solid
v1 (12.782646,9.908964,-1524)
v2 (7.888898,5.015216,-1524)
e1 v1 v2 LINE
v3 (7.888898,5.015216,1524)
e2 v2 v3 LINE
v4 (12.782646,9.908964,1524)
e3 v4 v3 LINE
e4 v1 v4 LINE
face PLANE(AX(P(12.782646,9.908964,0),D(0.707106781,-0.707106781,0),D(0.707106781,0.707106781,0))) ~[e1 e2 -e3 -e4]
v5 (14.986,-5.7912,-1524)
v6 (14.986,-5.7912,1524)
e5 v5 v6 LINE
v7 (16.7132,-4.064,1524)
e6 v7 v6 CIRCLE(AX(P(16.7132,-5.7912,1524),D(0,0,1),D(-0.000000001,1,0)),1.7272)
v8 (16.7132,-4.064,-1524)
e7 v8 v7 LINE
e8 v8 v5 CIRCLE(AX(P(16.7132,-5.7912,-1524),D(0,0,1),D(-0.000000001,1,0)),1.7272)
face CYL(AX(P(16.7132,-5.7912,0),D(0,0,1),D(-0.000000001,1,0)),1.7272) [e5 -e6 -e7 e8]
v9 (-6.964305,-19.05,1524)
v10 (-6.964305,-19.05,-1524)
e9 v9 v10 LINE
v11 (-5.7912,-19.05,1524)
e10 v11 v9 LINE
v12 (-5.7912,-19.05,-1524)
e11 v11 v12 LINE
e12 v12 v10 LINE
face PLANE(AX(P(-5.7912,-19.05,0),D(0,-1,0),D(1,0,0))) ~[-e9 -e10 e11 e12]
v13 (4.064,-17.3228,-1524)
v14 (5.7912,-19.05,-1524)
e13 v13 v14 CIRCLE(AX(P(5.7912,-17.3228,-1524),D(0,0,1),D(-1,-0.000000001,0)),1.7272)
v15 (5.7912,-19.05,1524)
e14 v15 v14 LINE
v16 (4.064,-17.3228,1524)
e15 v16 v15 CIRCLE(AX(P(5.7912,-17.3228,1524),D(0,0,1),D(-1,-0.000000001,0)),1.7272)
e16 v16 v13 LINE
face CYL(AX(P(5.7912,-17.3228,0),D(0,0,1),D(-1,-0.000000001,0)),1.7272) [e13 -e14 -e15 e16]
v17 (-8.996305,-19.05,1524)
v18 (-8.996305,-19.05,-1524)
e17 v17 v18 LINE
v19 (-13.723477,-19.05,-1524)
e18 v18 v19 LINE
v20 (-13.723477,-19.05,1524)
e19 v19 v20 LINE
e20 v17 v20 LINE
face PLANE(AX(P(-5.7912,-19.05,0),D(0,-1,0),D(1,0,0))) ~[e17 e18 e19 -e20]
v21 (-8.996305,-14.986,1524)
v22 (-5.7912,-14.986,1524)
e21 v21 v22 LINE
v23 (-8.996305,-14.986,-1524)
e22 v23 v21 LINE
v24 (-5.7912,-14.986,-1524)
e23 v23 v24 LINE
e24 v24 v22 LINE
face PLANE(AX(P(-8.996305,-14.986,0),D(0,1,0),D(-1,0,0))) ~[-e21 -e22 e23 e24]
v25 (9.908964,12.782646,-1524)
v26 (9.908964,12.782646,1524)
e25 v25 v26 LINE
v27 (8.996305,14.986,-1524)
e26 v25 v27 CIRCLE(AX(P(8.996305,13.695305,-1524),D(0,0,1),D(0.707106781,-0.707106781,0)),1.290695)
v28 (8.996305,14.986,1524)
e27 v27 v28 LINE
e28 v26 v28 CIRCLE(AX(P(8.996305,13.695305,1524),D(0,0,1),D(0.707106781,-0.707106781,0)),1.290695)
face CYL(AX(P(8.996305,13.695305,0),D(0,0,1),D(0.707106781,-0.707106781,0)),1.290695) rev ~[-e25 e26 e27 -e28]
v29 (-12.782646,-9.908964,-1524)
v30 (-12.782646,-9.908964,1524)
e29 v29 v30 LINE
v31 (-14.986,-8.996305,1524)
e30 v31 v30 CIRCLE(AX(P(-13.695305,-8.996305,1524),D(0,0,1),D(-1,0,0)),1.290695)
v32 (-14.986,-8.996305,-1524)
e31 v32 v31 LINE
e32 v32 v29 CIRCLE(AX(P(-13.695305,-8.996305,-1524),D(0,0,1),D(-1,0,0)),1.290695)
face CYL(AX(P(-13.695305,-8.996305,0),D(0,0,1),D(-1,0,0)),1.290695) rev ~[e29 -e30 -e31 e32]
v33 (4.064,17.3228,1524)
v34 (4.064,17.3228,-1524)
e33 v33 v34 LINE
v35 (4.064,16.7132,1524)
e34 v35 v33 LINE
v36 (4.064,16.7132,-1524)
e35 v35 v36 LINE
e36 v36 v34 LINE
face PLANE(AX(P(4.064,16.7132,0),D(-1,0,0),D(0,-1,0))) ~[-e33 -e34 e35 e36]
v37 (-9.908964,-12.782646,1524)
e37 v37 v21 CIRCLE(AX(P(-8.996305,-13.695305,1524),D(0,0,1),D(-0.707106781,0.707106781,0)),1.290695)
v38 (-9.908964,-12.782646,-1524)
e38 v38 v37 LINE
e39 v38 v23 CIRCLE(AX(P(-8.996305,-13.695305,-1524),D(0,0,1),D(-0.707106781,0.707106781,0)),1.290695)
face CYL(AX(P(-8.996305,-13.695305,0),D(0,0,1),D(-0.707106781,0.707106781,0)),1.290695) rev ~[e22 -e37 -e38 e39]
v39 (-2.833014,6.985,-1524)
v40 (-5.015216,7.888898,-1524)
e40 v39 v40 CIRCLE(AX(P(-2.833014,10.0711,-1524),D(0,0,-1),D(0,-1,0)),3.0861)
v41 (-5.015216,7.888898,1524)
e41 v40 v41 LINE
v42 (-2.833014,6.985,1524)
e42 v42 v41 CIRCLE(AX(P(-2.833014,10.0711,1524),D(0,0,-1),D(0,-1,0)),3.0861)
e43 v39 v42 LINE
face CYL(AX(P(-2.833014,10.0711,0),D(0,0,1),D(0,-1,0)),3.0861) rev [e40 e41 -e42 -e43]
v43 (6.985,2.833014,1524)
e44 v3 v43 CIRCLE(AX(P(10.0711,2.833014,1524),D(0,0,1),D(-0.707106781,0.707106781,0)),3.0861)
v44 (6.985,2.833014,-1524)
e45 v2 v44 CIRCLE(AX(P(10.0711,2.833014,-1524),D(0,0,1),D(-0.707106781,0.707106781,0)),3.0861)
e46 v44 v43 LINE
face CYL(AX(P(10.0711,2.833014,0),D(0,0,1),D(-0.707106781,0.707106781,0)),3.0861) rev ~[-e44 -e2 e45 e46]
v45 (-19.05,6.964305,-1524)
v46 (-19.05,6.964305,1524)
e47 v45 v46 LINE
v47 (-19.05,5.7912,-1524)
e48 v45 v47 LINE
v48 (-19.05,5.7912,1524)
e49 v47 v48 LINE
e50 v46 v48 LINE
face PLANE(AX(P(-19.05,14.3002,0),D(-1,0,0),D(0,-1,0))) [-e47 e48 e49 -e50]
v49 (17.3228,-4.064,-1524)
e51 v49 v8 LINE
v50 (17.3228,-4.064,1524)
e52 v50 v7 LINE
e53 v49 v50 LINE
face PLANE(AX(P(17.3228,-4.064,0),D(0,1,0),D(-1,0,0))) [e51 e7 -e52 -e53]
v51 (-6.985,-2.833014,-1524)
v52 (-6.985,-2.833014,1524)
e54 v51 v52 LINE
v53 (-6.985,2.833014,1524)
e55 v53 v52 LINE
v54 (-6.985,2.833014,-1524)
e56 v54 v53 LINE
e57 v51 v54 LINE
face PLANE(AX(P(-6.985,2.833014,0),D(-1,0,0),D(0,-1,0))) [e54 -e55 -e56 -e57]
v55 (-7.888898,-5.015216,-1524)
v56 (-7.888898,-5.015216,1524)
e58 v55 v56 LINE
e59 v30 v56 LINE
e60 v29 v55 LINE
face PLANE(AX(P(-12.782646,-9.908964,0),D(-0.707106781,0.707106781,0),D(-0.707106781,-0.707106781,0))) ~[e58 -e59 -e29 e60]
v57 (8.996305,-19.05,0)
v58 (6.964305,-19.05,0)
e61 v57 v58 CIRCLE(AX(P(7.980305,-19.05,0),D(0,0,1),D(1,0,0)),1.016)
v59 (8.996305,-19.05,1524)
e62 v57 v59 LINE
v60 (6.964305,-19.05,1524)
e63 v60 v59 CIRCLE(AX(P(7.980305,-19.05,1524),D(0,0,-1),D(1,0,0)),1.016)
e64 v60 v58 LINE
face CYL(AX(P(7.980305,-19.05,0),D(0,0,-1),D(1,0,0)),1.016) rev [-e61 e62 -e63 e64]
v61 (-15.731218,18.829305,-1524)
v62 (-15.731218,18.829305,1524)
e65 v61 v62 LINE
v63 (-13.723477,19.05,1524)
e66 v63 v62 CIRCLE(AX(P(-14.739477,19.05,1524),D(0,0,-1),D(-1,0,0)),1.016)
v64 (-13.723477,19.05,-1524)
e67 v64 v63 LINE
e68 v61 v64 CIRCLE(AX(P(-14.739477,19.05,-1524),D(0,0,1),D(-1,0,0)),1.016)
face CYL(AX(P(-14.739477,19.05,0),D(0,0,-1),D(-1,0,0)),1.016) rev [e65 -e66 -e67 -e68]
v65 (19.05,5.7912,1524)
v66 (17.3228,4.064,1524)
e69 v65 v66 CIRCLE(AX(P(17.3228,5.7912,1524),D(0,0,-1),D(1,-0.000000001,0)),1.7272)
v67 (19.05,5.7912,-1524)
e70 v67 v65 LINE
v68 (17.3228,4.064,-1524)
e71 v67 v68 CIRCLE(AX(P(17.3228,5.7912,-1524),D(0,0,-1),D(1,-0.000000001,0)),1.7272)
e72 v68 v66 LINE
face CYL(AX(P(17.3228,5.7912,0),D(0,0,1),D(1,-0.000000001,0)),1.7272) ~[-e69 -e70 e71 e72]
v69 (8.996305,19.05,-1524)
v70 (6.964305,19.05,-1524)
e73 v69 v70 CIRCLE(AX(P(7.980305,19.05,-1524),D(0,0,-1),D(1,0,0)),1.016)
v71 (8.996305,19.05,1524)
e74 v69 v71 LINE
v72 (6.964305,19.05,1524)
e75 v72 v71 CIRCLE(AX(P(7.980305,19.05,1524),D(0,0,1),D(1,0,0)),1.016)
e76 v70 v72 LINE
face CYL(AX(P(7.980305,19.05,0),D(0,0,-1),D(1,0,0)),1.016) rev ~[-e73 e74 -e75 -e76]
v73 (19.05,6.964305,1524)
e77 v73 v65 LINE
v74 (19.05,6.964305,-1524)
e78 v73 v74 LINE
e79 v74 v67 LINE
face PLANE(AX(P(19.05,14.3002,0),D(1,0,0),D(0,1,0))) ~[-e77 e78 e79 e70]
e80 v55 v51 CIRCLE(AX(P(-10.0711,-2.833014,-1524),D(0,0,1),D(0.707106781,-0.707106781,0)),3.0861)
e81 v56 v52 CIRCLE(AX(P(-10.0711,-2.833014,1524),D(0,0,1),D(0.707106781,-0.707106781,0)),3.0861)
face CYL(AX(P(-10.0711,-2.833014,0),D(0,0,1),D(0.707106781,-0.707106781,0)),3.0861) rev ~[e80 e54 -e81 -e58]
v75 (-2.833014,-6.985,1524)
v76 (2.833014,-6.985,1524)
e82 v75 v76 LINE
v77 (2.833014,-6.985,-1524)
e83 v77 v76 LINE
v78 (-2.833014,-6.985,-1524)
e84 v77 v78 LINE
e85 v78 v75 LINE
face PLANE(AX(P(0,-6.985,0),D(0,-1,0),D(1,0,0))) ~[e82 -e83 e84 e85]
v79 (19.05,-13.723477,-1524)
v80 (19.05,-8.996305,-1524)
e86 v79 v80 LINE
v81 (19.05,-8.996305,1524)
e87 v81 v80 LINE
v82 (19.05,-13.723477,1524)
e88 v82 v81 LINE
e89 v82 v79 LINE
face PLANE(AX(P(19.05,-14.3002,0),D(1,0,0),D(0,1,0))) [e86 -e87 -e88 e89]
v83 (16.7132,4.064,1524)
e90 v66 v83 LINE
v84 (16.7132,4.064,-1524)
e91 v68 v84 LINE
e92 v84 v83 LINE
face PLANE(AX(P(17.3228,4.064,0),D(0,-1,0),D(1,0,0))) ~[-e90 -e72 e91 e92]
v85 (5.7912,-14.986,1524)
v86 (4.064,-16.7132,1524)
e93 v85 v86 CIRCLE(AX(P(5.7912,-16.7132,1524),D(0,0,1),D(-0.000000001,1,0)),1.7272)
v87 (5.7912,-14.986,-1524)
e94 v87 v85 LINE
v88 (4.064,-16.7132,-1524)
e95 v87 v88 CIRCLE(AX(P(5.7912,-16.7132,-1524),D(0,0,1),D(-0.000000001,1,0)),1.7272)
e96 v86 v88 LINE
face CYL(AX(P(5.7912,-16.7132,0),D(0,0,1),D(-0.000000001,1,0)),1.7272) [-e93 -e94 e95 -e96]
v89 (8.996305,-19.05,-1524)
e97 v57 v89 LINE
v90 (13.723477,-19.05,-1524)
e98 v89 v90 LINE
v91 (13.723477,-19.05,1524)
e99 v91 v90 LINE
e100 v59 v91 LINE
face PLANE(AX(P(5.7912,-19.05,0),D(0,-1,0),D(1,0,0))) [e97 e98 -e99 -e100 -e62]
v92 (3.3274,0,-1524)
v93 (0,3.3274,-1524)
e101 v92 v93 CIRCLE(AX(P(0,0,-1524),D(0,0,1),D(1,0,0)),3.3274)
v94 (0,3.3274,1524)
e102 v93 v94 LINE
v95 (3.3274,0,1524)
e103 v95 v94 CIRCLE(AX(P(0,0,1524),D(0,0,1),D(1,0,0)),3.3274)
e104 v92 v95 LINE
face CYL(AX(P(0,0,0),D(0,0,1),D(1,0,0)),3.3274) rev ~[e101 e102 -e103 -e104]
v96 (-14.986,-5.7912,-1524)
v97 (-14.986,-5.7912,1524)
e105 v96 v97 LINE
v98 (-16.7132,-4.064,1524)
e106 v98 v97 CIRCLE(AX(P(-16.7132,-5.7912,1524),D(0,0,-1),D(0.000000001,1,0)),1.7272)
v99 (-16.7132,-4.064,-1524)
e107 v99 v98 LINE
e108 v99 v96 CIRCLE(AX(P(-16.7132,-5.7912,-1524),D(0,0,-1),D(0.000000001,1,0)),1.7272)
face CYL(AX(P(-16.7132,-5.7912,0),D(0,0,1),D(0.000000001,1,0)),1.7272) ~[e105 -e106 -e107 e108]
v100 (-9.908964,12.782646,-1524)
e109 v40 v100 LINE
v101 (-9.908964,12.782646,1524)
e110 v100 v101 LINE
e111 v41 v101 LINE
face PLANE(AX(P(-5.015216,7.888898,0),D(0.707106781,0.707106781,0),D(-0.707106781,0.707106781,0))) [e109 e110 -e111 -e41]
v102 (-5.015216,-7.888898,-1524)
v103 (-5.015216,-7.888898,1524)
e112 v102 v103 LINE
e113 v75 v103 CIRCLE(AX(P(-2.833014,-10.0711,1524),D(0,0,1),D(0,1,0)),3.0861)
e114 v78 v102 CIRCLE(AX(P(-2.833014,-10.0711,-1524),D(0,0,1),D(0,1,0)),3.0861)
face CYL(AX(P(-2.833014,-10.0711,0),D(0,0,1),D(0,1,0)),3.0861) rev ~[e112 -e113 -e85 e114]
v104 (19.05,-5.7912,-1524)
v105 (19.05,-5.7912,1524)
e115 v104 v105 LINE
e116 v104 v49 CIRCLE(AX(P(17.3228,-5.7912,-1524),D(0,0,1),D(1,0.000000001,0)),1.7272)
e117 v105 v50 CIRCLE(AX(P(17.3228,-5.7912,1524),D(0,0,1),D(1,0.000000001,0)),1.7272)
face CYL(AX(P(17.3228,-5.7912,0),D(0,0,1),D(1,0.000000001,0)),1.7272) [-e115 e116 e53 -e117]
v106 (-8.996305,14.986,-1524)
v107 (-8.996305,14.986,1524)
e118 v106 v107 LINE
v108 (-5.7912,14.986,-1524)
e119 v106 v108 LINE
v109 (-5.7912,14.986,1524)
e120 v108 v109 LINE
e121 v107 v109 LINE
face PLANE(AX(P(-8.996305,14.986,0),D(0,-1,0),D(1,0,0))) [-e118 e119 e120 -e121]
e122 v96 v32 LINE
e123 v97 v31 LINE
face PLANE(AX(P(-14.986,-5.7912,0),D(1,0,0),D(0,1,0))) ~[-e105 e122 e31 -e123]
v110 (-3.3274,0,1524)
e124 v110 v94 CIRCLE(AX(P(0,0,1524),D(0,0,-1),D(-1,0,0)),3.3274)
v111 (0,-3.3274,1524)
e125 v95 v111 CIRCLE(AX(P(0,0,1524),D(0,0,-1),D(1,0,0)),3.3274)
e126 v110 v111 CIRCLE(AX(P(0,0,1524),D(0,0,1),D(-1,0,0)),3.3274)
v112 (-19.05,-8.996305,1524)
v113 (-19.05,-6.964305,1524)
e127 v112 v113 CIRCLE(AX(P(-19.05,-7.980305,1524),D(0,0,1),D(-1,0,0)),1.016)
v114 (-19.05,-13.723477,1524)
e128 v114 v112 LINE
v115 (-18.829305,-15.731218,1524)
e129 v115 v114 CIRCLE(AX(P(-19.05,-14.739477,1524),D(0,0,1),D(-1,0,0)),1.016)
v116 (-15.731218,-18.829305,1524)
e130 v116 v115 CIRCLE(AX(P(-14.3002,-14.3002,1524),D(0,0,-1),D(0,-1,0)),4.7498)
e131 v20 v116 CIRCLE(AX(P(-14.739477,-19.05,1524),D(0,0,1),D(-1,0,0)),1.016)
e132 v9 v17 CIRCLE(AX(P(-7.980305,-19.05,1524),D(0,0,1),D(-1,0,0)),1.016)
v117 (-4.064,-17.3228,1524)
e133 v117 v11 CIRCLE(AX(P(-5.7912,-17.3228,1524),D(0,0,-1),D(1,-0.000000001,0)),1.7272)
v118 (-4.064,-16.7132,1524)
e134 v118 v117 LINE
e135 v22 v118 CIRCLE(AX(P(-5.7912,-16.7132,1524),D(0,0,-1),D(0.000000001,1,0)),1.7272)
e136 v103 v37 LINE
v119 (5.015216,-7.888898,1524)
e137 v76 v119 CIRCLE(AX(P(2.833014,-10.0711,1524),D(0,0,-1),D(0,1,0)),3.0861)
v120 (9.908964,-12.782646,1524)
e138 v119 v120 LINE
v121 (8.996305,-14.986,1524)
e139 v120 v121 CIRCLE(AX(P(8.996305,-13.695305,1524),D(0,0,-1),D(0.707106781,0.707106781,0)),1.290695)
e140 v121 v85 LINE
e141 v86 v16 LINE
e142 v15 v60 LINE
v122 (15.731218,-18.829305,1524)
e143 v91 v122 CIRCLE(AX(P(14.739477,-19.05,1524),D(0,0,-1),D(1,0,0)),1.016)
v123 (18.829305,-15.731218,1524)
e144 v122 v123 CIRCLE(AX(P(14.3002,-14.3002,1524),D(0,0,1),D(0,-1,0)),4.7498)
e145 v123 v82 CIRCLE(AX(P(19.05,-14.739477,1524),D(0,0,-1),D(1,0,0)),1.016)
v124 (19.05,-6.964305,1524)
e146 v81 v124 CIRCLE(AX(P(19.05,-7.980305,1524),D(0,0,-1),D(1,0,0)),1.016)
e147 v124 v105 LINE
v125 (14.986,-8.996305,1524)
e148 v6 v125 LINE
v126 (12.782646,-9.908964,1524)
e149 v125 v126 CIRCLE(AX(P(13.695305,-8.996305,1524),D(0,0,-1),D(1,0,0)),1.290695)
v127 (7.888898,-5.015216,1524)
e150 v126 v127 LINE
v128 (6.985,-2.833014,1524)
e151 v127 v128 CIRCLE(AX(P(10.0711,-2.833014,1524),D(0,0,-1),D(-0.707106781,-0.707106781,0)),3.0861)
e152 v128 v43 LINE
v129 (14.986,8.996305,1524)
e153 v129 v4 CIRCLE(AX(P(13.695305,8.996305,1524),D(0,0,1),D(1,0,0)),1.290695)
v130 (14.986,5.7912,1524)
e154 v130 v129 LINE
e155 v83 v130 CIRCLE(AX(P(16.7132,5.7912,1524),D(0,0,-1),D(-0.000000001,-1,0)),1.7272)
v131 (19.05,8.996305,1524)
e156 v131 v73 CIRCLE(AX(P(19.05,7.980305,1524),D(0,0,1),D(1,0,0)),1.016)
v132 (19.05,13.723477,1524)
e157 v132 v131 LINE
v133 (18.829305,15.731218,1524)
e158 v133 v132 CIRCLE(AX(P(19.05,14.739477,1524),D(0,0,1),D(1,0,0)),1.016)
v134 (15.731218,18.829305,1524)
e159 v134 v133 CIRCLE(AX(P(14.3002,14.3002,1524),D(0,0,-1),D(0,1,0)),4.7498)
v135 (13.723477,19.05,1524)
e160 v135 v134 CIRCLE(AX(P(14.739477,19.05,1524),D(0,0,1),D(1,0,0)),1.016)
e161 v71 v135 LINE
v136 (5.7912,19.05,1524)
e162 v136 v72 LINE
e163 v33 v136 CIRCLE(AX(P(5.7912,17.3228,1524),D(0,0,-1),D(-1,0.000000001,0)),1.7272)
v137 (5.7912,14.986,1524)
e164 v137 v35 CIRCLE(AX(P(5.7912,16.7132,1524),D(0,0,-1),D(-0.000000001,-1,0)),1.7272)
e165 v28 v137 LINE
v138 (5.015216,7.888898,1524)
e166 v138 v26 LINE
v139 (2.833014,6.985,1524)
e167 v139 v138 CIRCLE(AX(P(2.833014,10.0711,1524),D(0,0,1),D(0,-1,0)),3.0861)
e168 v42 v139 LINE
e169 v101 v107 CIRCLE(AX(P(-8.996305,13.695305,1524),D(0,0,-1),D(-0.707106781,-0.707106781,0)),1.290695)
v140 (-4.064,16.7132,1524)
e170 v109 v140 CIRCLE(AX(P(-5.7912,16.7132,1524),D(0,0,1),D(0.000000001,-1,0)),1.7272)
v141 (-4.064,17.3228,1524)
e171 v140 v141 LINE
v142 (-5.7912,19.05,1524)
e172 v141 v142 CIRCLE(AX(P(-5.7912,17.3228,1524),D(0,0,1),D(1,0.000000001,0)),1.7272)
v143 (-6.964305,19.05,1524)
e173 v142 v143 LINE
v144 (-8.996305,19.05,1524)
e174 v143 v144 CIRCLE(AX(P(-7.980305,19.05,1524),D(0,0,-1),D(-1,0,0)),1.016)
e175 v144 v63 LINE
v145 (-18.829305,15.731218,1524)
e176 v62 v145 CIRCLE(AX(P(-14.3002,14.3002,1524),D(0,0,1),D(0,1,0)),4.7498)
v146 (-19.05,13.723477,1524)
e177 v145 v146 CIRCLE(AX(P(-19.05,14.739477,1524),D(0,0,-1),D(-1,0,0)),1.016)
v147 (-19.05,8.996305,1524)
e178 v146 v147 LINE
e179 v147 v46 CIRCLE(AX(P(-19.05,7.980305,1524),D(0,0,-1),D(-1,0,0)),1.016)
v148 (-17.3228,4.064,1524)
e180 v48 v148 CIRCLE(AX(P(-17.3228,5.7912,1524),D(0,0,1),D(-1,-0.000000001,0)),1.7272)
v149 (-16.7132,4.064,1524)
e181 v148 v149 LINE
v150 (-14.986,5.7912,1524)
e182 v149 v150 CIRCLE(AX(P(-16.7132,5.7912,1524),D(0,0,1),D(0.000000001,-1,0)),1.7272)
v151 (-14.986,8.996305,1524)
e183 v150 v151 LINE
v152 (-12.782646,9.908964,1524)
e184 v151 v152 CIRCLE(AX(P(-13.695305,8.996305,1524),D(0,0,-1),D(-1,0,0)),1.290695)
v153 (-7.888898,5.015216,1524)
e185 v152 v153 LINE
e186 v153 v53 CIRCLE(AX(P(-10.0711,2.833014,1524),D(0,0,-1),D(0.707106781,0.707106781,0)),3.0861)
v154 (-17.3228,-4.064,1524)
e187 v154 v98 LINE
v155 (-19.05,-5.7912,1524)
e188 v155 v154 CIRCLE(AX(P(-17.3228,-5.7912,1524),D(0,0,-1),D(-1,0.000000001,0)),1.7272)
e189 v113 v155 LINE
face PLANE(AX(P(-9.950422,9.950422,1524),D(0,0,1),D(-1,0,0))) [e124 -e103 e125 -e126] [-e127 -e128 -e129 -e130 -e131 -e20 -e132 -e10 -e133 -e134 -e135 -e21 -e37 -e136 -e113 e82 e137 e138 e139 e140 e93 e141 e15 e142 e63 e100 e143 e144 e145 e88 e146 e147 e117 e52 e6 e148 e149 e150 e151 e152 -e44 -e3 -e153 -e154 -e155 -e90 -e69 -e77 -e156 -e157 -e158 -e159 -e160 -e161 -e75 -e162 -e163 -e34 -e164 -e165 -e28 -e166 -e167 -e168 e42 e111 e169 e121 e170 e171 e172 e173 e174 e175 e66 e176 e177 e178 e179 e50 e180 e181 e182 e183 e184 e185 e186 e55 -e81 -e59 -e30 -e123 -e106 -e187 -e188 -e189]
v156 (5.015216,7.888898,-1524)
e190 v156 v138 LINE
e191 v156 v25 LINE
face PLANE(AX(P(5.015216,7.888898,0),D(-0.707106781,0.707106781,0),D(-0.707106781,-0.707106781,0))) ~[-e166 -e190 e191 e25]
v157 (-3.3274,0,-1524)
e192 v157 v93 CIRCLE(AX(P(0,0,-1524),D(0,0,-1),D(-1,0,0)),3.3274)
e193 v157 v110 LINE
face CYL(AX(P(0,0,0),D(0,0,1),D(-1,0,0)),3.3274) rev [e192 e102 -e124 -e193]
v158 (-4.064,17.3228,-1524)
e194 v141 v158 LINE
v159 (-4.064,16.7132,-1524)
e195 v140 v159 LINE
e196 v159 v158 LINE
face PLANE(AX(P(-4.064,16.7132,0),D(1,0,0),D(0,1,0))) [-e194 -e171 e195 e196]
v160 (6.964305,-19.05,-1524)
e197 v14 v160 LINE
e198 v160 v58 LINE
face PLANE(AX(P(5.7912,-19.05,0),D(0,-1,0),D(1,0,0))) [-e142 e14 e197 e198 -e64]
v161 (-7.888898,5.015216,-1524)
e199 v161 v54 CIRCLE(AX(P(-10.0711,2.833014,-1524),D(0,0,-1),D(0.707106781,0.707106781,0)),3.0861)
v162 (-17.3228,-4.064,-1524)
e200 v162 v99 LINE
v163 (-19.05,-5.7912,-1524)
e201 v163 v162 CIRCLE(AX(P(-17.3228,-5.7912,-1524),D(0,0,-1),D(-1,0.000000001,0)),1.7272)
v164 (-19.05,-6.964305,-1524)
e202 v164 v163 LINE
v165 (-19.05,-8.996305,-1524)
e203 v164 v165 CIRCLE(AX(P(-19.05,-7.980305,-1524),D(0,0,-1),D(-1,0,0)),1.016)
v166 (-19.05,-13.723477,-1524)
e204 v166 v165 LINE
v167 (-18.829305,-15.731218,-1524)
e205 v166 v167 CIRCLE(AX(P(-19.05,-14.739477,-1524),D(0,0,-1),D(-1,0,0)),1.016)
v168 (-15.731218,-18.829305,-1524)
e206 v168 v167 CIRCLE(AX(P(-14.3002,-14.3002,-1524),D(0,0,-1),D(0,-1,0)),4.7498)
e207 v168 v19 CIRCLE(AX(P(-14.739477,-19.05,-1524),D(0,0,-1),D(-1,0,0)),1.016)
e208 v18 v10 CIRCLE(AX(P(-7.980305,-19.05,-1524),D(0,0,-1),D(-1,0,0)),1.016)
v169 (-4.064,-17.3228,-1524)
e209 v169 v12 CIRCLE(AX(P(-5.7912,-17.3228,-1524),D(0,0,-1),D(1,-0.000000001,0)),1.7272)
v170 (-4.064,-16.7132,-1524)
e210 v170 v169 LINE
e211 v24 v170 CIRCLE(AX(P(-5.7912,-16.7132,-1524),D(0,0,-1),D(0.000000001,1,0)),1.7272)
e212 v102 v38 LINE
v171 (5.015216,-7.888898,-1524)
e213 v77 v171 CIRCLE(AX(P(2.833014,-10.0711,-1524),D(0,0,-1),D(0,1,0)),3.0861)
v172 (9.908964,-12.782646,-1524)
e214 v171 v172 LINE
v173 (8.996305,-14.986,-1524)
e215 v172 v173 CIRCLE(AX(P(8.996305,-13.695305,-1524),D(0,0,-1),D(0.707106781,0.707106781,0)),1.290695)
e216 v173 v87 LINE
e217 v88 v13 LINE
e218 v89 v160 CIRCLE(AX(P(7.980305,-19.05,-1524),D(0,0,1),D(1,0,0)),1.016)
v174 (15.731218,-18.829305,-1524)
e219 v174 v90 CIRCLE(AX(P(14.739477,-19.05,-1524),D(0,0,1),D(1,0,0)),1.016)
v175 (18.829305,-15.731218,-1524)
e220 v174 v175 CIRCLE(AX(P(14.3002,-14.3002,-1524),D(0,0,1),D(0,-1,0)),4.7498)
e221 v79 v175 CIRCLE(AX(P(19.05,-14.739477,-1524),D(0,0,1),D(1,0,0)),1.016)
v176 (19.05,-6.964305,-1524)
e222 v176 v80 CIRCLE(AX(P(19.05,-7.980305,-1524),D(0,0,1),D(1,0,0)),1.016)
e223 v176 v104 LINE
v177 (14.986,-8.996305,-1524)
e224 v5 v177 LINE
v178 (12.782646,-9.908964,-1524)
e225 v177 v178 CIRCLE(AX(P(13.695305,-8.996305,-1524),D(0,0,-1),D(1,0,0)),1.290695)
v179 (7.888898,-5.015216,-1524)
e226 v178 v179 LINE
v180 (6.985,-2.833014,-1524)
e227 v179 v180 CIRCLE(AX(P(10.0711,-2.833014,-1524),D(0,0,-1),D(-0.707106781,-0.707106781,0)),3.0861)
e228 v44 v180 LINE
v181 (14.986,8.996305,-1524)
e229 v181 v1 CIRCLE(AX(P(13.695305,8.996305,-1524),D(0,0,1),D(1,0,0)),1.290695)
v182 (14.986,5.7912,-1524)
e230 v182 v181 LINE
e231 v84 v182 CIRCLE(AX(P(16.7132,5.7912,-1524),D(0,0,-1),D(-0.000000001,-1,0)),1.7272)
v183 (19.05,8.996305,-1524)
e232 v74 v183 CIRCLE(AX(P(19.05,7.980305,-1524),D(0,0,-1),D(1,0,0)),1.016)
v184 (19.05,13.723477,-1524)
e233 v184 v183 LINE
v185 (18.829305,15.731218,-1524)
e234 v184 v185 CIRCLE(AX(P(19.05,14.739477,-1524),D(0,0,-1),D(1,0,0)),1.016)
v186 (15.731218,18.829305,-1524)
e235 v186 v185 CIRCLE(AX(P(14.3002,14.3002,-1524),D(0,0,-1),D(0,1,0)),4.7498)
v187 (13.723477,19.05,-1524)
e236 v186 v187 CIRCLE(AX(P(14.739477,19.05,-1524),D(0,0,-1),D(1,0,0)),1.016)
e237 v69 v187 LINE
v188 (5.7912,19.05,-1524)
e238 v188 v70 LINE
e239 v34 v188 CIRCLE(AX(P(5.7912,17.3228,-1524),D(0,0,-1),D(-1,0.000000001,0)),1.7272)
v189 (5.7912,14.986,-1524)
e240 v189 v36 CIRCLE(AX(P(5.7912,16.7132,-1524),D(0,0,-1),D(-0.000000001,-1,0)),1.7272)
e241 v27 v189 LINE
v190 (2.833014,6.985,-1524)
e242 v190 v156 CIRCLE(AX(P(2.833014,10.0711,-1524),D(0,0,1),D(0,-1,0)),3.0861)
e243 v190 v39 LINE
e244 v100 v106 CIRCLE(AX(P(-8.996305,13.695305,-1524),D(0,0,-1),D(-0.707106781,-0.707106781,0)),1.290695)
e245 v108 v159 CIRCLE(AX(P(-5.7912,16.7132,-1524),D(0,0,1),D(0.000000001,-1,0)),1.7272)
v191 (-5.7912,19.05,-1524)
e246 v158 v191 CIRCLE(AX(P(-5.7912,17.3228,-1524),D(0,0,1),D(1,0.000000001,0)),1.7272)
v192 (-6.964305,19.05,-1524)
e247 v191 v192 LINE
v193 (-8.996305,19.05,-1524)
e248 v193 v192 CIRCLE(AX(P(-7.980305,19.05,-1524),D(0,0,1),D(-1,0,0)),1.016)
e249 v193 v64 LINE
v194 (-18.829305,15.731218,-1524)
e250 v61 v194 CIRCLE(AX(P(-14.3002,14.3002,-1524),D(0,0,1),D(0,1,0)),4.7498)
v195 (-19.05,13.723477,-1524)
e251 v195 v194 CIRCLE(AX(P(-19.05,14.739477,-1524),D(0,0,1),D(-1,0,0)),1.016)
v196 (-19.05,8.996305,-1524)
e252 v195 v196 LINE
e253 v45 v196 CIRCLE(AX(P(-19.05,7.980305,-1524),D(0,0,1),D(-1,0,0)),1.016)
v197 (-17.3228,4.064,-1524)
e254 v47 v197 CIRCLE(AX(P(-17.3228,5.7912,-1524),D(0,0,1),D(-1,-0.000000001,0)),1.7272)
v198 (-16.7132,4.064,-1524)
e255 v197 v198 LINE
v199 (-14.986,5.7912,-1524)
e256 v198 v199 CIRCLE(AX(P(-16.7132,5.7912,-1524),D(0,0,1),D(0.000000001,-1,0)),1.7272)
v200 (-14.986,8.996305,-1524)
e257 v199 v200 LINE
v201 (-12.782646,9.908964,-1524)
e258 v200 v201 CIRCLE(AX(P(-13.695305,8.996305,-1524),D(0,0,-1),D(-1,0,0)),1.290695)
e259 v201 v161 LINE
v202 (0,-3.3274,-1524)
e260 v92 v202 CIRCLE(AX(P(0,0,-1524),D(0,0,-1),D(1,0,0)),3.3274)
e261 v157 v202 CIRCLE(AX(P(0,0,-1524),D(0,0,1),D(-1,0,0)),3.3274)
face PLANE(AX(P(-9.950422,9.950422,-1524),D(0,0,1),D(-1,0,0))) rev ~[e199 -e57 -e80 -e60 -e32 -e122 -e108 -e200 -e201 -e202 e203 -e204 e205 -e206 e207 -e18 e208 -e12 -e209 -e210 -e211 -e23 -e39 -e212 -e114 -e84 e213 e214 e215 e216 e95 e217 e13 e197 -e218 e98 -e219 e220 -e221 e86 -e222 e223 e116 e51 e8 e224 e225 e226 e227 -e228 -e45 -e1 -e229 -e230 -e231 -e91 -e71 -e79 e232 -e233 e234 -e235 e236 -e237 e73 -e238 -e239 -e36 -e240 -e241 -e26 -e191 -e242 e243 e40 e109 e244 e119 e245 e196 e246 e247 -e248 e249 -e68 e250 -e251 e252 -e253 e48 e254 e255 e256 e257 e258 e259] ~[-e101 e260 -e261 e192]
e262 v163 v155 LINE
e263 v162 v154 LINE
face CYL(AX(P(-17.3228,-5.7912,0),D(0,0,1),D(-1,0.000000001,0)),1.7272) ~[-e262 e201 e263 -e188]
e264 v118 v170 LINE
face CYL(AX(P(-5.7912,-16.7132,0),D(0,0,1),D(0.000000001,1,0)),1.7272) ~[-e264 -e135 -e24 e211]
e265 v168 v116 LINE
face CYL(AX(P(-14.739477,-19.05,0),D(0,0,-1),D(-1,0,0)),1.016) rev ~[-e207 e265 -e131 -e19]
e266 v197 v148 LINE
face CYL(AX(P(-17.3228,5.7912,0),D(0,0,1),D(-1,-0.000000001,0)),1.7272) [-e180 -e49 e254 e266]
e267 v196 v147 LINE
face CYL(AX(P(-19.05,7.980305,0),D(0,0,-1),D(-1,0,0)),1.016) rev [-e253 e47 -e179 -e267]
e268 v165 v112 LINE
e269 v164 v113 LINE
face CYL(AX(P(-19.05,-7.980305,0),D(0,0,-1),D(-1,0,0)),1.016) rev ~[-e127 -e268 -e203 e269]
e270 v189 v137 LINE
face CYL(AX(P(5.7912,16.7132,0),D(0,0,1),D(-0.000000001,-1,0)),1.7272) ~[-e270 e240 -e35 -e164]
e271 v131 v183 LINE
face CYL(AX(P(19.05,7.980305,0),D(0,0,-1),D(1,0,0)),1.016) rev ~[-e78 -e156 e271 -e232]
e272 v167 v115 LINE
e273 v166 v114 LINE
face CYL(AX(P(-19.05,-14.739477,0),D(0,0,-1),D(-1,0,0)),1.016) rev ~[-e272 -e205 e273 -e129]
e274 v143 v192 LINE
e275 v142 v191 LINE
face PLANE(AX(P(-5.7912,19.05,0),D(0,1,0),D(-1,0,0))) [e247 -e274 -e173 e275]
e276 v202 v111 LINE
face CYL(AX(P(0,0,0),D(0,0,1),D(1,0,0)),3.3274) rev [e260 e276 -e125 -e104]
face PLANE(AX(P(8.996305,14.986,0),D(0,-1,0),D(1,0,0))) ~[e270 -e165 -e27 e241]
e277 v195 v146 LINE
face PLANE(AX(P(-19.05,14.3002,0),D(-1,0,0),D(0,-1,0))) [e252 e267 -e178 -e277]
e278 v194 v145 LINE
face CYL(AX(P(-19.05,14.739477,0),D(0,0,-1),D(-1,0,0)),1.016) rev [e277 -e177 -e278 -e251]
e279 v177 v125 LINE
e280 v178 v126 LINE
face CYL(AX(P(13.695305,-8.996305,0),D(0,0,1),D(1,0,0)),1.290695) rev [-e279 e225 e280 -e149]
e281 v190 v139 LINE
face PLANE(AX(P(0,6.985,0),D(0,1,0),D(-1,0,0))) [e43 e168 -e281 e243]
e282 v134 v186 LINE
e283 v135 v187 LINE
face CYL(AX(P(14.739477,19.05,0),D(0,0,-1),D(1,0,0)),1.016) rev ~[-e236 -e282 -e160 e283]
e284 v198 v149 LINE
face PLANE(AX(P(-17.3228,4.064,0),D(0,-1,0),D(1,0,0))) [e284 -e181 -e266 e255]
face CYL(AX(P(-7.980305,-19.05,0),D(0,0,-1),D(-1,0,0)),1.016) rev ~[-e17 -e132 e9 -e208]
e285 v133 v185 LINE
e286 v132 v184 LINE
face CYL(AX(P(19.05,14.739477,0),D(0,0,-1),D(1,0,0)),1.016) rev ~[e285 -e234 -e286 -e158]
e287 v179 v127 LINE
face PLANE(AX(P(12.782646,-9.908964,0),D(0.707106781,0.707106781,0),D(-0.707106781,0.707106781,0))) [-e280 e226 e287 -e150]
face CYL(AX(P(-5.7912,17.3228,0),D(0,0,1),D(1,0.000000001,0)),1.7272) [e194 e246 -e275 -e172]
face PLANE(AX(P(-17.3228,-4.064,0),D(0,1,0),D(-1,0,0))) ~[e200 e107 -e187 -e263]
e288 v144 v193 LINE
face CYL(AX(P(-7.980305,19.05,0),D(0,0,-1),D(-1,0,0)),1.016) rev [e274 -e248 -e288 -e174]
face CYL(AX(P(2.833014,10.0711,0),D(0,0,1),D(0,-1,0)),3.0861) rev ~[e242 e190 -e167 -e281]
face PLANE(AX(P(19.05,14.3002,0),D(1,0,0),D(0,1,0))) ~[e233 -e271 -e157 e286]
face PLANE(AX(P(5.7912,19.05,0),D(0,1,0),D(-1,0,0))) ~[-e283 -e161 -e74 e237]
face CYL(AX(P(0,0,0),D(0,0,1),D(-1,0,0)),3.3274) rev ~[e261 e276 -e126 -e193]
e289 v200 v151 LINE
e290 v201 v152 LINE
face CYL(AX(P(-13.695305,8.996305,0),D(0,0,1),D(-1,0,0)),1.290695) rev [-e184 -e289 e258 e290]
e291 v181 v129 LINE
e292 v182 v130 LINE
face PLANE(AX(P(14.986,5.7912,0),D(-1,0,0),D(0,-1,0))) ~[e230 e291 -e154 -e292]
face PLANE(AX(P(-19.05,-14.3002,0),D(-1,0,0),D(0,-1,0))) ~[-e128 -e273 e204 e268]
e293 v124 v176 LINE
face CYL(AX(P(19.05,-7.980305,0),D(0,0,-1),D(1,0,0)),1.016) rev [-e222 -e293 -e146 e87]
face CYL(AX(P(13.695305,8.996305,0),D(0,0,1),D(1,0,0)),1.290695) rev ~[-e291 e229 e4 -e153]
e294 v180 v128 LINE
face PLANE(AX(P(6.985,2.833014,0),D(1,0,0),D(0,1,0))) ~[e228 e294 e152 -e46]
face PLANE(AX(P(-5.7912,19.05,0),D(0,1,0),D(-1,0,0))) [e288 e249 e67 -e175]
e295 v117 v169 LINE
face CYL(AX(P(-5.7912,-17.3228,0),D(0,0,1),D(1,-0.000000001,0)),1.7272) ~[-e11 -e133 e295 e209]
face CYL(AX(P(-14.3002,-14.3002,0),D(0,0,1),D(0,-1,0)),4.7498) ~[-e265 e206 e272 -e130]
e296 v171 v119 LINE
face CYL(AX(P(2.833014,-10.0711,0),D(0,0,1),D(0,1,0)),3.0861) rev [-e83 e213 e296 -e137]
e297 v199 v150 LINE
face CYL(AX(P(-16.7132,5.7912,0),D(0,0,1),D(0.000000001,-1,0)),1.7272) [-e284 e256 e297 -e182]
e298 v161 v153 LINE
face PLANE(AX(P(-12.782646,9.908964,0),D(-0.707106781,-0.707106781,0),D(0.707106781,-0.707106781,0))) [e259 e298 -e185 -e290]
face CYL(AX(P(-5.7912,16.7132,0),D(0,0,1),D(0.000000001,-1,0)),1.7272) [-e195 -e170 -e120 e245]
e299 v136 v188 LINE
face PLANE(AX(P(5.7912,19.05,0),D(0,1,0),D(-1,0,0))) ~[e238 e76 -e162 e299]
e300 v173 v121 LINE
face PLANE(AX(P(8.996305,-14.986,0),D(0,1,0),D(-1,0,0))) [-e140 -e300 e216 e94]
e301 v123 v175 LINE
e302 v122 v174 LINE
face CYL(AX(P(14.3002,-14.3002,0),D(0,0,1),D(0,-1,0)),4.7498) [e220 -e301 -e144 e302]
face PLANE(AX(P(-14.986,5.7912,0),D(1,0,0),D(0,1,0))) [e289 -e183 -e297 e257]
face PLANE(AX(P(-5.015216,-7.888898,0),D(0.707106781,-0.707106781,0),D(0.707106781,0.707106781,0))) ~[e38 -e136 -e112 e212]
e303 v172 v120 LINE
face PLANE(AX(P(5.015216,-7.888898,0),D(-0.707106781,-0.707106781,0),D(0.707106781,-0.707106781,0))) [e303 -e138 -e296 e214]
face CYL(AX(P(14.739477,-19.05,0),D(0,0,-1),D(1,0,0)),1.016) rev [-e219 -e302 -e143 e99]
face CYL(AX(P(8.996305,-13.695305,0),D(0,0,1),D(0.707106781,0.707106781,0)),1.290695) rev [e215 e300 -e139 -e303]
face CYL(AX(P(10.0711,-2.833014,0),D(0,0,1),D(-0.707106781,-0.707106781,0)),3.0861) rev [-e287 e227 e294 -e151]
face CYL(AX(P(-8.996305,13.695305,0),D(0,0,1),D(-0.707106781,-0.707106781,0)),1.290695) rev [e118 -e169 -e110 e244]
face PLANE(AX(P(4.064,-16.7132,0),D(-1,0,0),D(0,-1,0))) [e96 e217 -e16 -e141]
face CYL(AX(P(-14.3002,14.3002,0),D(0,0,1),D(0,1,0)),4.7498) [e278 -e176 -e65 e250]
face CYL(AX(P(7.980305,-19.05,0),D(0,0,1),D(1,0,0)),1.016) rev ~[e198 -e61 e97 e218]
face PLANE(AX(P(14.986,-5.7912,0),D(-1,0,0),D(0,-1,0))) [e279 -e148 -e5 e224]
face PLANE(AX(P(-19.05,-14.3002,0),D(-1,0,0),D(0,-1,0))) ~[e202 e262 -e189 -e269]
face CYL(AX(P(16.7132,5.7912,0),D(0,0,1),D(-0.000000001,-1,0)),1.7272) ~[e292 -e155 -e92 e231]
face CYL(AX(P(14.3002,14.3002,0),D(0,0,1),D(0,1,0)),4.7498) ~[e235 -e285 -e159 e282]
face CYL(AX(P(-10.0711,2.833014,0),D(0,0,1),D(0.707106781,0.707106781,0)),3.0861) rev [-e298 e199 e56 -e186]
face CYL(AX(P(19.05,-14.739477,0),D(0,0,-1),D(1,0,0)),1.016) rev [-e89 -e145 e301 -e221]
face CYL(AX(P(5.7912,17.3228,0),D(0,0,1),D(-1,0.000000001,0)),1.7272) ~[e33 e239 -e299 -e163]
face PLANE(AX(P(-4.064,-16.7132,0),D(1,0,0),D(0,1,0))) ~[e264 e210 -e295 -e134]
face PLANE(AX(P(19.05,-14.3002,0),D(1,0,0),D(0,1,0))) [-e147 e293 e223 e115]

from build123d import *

# Parameters (mm, degrees)
BOSS_EXTRUDE1_DEPTH     = 1524
SKETCH5_R               = 1.016
CUT_EXTRUDE1_DEPTH      = 1525
CUT_EXTRUDE1_DEPTH_BACK = 1525


with BuildPart() as part:
    # Sketch4 → Boss-Extrude1 (new body, symmetric)
    with BuildSketch(Plane.XY):
        with BuildLine():
            Line((5.7912, -19.05), (14.3002, -19.05))
            ThreePointArc((14.3002, -19.05), (17.658815789, -17.658815789), (19.05, -14.3002))
            Line((19.05, -14.3002), (19.05, -5.7912))
            ThreePointArc((19.05, -5.7912), (18.544114832, -4.569885168), (17.3228, -4.064))
            Line((17.3228, -4.064), (16.7132, -4.064))
            ThreePointArc((16.7132, -4.064), (15.491885168, -4.569885168), (14.986, -5.7912))
            Line((14.986, -5.7912), (14.986, -8.996305235))
            ThreePointArc((14.986, -8.996305235), (14.189232738, -10.188751711), (12.782646215, -9.908964256))
            Line((12.782646215, -9.908964256), (7.888897763, -5.015215804))
            ThreePointArc((7.888897763, -5.015215804), (7.219915375, -4.014012907), (6.985, -2.833013566))
            Line((6.985, -2.833013566), (6.985, 0))
            Line((6.985, 0), (3.3274, 0))
            ThreePointArc((3.3274, 0), (2.352827104, -2.352827104), (0, -3.3274))
            Line((0, -3.3274), (0, -6.985))
            Line((0, -6.985), (2.833013566, -6.985))
            ThreePointArc((2.833013566, -6.985), (4.014012907, -7.219915375), (5.015215804, -7.888897763))
            Line((5.015215804, -7.888897763), (9.908964256, -12.782646215))
            ThreePointArc((9.908964256, -12.782646215), (10.188751711, -14.189232738), (8.996305235, -14.986))
            Line((8.996305235, -14.986), (5.7912, -14.986))
            ThreePointArc((5.7912, -14.986), (4.569885168, -15.491885168), (4.064, -16.7132))
            Line((4.064, -16.7132), (4.064, -17.3228))
            ThreePointArc((4.064, -17.3228), (4.569885168, -18.544114832), (5.7912, -19.05))
        make_face()
    extrude(amount=BOSS_EXTRUDE1_DEPTH, both=True)

    # Sketch5 → Cut-Extrude1 (cut, two sides)
    with BuildSketch(Plane.XY) as cut_extrude1_sk:
        with Locations((14.739477062, -19.05)):
            Circle(SKETCH5_R)
        with Locations((7.980305235, -19.05)):
            Circle(SKETCH5_R)
        with Locations((19.05, -14.739477062)):
            Circle(SKETCH5_R)
        with Locations((19.05, -7.980305235)):
            Circle(SKETCH5_R)
    extrude(amount=CUT_EXTRUDE1_DEPTH, mode=Mode.SUBTRACT)
    extrude(cut_extrude1_sk.sketch, amount=-CUT_EXTRUDE1_DEPTH_BACK, mode=Mode.SUBTRACT)

    # Mirror1: part across plane


with BuildPart() as part_1:
    add(part.part)
    add(part.part.mirror(Plane(origin=(0, 0, 0), x_dir=(0, 0, 1), z_dir=(1, 0, 0))))

    # Mirror2: part across plane


with BuildPart() as part_2:
    add(part_1.part)
    add(part_1.part.mirror(Plane.ZX))


solid = part_2.part
